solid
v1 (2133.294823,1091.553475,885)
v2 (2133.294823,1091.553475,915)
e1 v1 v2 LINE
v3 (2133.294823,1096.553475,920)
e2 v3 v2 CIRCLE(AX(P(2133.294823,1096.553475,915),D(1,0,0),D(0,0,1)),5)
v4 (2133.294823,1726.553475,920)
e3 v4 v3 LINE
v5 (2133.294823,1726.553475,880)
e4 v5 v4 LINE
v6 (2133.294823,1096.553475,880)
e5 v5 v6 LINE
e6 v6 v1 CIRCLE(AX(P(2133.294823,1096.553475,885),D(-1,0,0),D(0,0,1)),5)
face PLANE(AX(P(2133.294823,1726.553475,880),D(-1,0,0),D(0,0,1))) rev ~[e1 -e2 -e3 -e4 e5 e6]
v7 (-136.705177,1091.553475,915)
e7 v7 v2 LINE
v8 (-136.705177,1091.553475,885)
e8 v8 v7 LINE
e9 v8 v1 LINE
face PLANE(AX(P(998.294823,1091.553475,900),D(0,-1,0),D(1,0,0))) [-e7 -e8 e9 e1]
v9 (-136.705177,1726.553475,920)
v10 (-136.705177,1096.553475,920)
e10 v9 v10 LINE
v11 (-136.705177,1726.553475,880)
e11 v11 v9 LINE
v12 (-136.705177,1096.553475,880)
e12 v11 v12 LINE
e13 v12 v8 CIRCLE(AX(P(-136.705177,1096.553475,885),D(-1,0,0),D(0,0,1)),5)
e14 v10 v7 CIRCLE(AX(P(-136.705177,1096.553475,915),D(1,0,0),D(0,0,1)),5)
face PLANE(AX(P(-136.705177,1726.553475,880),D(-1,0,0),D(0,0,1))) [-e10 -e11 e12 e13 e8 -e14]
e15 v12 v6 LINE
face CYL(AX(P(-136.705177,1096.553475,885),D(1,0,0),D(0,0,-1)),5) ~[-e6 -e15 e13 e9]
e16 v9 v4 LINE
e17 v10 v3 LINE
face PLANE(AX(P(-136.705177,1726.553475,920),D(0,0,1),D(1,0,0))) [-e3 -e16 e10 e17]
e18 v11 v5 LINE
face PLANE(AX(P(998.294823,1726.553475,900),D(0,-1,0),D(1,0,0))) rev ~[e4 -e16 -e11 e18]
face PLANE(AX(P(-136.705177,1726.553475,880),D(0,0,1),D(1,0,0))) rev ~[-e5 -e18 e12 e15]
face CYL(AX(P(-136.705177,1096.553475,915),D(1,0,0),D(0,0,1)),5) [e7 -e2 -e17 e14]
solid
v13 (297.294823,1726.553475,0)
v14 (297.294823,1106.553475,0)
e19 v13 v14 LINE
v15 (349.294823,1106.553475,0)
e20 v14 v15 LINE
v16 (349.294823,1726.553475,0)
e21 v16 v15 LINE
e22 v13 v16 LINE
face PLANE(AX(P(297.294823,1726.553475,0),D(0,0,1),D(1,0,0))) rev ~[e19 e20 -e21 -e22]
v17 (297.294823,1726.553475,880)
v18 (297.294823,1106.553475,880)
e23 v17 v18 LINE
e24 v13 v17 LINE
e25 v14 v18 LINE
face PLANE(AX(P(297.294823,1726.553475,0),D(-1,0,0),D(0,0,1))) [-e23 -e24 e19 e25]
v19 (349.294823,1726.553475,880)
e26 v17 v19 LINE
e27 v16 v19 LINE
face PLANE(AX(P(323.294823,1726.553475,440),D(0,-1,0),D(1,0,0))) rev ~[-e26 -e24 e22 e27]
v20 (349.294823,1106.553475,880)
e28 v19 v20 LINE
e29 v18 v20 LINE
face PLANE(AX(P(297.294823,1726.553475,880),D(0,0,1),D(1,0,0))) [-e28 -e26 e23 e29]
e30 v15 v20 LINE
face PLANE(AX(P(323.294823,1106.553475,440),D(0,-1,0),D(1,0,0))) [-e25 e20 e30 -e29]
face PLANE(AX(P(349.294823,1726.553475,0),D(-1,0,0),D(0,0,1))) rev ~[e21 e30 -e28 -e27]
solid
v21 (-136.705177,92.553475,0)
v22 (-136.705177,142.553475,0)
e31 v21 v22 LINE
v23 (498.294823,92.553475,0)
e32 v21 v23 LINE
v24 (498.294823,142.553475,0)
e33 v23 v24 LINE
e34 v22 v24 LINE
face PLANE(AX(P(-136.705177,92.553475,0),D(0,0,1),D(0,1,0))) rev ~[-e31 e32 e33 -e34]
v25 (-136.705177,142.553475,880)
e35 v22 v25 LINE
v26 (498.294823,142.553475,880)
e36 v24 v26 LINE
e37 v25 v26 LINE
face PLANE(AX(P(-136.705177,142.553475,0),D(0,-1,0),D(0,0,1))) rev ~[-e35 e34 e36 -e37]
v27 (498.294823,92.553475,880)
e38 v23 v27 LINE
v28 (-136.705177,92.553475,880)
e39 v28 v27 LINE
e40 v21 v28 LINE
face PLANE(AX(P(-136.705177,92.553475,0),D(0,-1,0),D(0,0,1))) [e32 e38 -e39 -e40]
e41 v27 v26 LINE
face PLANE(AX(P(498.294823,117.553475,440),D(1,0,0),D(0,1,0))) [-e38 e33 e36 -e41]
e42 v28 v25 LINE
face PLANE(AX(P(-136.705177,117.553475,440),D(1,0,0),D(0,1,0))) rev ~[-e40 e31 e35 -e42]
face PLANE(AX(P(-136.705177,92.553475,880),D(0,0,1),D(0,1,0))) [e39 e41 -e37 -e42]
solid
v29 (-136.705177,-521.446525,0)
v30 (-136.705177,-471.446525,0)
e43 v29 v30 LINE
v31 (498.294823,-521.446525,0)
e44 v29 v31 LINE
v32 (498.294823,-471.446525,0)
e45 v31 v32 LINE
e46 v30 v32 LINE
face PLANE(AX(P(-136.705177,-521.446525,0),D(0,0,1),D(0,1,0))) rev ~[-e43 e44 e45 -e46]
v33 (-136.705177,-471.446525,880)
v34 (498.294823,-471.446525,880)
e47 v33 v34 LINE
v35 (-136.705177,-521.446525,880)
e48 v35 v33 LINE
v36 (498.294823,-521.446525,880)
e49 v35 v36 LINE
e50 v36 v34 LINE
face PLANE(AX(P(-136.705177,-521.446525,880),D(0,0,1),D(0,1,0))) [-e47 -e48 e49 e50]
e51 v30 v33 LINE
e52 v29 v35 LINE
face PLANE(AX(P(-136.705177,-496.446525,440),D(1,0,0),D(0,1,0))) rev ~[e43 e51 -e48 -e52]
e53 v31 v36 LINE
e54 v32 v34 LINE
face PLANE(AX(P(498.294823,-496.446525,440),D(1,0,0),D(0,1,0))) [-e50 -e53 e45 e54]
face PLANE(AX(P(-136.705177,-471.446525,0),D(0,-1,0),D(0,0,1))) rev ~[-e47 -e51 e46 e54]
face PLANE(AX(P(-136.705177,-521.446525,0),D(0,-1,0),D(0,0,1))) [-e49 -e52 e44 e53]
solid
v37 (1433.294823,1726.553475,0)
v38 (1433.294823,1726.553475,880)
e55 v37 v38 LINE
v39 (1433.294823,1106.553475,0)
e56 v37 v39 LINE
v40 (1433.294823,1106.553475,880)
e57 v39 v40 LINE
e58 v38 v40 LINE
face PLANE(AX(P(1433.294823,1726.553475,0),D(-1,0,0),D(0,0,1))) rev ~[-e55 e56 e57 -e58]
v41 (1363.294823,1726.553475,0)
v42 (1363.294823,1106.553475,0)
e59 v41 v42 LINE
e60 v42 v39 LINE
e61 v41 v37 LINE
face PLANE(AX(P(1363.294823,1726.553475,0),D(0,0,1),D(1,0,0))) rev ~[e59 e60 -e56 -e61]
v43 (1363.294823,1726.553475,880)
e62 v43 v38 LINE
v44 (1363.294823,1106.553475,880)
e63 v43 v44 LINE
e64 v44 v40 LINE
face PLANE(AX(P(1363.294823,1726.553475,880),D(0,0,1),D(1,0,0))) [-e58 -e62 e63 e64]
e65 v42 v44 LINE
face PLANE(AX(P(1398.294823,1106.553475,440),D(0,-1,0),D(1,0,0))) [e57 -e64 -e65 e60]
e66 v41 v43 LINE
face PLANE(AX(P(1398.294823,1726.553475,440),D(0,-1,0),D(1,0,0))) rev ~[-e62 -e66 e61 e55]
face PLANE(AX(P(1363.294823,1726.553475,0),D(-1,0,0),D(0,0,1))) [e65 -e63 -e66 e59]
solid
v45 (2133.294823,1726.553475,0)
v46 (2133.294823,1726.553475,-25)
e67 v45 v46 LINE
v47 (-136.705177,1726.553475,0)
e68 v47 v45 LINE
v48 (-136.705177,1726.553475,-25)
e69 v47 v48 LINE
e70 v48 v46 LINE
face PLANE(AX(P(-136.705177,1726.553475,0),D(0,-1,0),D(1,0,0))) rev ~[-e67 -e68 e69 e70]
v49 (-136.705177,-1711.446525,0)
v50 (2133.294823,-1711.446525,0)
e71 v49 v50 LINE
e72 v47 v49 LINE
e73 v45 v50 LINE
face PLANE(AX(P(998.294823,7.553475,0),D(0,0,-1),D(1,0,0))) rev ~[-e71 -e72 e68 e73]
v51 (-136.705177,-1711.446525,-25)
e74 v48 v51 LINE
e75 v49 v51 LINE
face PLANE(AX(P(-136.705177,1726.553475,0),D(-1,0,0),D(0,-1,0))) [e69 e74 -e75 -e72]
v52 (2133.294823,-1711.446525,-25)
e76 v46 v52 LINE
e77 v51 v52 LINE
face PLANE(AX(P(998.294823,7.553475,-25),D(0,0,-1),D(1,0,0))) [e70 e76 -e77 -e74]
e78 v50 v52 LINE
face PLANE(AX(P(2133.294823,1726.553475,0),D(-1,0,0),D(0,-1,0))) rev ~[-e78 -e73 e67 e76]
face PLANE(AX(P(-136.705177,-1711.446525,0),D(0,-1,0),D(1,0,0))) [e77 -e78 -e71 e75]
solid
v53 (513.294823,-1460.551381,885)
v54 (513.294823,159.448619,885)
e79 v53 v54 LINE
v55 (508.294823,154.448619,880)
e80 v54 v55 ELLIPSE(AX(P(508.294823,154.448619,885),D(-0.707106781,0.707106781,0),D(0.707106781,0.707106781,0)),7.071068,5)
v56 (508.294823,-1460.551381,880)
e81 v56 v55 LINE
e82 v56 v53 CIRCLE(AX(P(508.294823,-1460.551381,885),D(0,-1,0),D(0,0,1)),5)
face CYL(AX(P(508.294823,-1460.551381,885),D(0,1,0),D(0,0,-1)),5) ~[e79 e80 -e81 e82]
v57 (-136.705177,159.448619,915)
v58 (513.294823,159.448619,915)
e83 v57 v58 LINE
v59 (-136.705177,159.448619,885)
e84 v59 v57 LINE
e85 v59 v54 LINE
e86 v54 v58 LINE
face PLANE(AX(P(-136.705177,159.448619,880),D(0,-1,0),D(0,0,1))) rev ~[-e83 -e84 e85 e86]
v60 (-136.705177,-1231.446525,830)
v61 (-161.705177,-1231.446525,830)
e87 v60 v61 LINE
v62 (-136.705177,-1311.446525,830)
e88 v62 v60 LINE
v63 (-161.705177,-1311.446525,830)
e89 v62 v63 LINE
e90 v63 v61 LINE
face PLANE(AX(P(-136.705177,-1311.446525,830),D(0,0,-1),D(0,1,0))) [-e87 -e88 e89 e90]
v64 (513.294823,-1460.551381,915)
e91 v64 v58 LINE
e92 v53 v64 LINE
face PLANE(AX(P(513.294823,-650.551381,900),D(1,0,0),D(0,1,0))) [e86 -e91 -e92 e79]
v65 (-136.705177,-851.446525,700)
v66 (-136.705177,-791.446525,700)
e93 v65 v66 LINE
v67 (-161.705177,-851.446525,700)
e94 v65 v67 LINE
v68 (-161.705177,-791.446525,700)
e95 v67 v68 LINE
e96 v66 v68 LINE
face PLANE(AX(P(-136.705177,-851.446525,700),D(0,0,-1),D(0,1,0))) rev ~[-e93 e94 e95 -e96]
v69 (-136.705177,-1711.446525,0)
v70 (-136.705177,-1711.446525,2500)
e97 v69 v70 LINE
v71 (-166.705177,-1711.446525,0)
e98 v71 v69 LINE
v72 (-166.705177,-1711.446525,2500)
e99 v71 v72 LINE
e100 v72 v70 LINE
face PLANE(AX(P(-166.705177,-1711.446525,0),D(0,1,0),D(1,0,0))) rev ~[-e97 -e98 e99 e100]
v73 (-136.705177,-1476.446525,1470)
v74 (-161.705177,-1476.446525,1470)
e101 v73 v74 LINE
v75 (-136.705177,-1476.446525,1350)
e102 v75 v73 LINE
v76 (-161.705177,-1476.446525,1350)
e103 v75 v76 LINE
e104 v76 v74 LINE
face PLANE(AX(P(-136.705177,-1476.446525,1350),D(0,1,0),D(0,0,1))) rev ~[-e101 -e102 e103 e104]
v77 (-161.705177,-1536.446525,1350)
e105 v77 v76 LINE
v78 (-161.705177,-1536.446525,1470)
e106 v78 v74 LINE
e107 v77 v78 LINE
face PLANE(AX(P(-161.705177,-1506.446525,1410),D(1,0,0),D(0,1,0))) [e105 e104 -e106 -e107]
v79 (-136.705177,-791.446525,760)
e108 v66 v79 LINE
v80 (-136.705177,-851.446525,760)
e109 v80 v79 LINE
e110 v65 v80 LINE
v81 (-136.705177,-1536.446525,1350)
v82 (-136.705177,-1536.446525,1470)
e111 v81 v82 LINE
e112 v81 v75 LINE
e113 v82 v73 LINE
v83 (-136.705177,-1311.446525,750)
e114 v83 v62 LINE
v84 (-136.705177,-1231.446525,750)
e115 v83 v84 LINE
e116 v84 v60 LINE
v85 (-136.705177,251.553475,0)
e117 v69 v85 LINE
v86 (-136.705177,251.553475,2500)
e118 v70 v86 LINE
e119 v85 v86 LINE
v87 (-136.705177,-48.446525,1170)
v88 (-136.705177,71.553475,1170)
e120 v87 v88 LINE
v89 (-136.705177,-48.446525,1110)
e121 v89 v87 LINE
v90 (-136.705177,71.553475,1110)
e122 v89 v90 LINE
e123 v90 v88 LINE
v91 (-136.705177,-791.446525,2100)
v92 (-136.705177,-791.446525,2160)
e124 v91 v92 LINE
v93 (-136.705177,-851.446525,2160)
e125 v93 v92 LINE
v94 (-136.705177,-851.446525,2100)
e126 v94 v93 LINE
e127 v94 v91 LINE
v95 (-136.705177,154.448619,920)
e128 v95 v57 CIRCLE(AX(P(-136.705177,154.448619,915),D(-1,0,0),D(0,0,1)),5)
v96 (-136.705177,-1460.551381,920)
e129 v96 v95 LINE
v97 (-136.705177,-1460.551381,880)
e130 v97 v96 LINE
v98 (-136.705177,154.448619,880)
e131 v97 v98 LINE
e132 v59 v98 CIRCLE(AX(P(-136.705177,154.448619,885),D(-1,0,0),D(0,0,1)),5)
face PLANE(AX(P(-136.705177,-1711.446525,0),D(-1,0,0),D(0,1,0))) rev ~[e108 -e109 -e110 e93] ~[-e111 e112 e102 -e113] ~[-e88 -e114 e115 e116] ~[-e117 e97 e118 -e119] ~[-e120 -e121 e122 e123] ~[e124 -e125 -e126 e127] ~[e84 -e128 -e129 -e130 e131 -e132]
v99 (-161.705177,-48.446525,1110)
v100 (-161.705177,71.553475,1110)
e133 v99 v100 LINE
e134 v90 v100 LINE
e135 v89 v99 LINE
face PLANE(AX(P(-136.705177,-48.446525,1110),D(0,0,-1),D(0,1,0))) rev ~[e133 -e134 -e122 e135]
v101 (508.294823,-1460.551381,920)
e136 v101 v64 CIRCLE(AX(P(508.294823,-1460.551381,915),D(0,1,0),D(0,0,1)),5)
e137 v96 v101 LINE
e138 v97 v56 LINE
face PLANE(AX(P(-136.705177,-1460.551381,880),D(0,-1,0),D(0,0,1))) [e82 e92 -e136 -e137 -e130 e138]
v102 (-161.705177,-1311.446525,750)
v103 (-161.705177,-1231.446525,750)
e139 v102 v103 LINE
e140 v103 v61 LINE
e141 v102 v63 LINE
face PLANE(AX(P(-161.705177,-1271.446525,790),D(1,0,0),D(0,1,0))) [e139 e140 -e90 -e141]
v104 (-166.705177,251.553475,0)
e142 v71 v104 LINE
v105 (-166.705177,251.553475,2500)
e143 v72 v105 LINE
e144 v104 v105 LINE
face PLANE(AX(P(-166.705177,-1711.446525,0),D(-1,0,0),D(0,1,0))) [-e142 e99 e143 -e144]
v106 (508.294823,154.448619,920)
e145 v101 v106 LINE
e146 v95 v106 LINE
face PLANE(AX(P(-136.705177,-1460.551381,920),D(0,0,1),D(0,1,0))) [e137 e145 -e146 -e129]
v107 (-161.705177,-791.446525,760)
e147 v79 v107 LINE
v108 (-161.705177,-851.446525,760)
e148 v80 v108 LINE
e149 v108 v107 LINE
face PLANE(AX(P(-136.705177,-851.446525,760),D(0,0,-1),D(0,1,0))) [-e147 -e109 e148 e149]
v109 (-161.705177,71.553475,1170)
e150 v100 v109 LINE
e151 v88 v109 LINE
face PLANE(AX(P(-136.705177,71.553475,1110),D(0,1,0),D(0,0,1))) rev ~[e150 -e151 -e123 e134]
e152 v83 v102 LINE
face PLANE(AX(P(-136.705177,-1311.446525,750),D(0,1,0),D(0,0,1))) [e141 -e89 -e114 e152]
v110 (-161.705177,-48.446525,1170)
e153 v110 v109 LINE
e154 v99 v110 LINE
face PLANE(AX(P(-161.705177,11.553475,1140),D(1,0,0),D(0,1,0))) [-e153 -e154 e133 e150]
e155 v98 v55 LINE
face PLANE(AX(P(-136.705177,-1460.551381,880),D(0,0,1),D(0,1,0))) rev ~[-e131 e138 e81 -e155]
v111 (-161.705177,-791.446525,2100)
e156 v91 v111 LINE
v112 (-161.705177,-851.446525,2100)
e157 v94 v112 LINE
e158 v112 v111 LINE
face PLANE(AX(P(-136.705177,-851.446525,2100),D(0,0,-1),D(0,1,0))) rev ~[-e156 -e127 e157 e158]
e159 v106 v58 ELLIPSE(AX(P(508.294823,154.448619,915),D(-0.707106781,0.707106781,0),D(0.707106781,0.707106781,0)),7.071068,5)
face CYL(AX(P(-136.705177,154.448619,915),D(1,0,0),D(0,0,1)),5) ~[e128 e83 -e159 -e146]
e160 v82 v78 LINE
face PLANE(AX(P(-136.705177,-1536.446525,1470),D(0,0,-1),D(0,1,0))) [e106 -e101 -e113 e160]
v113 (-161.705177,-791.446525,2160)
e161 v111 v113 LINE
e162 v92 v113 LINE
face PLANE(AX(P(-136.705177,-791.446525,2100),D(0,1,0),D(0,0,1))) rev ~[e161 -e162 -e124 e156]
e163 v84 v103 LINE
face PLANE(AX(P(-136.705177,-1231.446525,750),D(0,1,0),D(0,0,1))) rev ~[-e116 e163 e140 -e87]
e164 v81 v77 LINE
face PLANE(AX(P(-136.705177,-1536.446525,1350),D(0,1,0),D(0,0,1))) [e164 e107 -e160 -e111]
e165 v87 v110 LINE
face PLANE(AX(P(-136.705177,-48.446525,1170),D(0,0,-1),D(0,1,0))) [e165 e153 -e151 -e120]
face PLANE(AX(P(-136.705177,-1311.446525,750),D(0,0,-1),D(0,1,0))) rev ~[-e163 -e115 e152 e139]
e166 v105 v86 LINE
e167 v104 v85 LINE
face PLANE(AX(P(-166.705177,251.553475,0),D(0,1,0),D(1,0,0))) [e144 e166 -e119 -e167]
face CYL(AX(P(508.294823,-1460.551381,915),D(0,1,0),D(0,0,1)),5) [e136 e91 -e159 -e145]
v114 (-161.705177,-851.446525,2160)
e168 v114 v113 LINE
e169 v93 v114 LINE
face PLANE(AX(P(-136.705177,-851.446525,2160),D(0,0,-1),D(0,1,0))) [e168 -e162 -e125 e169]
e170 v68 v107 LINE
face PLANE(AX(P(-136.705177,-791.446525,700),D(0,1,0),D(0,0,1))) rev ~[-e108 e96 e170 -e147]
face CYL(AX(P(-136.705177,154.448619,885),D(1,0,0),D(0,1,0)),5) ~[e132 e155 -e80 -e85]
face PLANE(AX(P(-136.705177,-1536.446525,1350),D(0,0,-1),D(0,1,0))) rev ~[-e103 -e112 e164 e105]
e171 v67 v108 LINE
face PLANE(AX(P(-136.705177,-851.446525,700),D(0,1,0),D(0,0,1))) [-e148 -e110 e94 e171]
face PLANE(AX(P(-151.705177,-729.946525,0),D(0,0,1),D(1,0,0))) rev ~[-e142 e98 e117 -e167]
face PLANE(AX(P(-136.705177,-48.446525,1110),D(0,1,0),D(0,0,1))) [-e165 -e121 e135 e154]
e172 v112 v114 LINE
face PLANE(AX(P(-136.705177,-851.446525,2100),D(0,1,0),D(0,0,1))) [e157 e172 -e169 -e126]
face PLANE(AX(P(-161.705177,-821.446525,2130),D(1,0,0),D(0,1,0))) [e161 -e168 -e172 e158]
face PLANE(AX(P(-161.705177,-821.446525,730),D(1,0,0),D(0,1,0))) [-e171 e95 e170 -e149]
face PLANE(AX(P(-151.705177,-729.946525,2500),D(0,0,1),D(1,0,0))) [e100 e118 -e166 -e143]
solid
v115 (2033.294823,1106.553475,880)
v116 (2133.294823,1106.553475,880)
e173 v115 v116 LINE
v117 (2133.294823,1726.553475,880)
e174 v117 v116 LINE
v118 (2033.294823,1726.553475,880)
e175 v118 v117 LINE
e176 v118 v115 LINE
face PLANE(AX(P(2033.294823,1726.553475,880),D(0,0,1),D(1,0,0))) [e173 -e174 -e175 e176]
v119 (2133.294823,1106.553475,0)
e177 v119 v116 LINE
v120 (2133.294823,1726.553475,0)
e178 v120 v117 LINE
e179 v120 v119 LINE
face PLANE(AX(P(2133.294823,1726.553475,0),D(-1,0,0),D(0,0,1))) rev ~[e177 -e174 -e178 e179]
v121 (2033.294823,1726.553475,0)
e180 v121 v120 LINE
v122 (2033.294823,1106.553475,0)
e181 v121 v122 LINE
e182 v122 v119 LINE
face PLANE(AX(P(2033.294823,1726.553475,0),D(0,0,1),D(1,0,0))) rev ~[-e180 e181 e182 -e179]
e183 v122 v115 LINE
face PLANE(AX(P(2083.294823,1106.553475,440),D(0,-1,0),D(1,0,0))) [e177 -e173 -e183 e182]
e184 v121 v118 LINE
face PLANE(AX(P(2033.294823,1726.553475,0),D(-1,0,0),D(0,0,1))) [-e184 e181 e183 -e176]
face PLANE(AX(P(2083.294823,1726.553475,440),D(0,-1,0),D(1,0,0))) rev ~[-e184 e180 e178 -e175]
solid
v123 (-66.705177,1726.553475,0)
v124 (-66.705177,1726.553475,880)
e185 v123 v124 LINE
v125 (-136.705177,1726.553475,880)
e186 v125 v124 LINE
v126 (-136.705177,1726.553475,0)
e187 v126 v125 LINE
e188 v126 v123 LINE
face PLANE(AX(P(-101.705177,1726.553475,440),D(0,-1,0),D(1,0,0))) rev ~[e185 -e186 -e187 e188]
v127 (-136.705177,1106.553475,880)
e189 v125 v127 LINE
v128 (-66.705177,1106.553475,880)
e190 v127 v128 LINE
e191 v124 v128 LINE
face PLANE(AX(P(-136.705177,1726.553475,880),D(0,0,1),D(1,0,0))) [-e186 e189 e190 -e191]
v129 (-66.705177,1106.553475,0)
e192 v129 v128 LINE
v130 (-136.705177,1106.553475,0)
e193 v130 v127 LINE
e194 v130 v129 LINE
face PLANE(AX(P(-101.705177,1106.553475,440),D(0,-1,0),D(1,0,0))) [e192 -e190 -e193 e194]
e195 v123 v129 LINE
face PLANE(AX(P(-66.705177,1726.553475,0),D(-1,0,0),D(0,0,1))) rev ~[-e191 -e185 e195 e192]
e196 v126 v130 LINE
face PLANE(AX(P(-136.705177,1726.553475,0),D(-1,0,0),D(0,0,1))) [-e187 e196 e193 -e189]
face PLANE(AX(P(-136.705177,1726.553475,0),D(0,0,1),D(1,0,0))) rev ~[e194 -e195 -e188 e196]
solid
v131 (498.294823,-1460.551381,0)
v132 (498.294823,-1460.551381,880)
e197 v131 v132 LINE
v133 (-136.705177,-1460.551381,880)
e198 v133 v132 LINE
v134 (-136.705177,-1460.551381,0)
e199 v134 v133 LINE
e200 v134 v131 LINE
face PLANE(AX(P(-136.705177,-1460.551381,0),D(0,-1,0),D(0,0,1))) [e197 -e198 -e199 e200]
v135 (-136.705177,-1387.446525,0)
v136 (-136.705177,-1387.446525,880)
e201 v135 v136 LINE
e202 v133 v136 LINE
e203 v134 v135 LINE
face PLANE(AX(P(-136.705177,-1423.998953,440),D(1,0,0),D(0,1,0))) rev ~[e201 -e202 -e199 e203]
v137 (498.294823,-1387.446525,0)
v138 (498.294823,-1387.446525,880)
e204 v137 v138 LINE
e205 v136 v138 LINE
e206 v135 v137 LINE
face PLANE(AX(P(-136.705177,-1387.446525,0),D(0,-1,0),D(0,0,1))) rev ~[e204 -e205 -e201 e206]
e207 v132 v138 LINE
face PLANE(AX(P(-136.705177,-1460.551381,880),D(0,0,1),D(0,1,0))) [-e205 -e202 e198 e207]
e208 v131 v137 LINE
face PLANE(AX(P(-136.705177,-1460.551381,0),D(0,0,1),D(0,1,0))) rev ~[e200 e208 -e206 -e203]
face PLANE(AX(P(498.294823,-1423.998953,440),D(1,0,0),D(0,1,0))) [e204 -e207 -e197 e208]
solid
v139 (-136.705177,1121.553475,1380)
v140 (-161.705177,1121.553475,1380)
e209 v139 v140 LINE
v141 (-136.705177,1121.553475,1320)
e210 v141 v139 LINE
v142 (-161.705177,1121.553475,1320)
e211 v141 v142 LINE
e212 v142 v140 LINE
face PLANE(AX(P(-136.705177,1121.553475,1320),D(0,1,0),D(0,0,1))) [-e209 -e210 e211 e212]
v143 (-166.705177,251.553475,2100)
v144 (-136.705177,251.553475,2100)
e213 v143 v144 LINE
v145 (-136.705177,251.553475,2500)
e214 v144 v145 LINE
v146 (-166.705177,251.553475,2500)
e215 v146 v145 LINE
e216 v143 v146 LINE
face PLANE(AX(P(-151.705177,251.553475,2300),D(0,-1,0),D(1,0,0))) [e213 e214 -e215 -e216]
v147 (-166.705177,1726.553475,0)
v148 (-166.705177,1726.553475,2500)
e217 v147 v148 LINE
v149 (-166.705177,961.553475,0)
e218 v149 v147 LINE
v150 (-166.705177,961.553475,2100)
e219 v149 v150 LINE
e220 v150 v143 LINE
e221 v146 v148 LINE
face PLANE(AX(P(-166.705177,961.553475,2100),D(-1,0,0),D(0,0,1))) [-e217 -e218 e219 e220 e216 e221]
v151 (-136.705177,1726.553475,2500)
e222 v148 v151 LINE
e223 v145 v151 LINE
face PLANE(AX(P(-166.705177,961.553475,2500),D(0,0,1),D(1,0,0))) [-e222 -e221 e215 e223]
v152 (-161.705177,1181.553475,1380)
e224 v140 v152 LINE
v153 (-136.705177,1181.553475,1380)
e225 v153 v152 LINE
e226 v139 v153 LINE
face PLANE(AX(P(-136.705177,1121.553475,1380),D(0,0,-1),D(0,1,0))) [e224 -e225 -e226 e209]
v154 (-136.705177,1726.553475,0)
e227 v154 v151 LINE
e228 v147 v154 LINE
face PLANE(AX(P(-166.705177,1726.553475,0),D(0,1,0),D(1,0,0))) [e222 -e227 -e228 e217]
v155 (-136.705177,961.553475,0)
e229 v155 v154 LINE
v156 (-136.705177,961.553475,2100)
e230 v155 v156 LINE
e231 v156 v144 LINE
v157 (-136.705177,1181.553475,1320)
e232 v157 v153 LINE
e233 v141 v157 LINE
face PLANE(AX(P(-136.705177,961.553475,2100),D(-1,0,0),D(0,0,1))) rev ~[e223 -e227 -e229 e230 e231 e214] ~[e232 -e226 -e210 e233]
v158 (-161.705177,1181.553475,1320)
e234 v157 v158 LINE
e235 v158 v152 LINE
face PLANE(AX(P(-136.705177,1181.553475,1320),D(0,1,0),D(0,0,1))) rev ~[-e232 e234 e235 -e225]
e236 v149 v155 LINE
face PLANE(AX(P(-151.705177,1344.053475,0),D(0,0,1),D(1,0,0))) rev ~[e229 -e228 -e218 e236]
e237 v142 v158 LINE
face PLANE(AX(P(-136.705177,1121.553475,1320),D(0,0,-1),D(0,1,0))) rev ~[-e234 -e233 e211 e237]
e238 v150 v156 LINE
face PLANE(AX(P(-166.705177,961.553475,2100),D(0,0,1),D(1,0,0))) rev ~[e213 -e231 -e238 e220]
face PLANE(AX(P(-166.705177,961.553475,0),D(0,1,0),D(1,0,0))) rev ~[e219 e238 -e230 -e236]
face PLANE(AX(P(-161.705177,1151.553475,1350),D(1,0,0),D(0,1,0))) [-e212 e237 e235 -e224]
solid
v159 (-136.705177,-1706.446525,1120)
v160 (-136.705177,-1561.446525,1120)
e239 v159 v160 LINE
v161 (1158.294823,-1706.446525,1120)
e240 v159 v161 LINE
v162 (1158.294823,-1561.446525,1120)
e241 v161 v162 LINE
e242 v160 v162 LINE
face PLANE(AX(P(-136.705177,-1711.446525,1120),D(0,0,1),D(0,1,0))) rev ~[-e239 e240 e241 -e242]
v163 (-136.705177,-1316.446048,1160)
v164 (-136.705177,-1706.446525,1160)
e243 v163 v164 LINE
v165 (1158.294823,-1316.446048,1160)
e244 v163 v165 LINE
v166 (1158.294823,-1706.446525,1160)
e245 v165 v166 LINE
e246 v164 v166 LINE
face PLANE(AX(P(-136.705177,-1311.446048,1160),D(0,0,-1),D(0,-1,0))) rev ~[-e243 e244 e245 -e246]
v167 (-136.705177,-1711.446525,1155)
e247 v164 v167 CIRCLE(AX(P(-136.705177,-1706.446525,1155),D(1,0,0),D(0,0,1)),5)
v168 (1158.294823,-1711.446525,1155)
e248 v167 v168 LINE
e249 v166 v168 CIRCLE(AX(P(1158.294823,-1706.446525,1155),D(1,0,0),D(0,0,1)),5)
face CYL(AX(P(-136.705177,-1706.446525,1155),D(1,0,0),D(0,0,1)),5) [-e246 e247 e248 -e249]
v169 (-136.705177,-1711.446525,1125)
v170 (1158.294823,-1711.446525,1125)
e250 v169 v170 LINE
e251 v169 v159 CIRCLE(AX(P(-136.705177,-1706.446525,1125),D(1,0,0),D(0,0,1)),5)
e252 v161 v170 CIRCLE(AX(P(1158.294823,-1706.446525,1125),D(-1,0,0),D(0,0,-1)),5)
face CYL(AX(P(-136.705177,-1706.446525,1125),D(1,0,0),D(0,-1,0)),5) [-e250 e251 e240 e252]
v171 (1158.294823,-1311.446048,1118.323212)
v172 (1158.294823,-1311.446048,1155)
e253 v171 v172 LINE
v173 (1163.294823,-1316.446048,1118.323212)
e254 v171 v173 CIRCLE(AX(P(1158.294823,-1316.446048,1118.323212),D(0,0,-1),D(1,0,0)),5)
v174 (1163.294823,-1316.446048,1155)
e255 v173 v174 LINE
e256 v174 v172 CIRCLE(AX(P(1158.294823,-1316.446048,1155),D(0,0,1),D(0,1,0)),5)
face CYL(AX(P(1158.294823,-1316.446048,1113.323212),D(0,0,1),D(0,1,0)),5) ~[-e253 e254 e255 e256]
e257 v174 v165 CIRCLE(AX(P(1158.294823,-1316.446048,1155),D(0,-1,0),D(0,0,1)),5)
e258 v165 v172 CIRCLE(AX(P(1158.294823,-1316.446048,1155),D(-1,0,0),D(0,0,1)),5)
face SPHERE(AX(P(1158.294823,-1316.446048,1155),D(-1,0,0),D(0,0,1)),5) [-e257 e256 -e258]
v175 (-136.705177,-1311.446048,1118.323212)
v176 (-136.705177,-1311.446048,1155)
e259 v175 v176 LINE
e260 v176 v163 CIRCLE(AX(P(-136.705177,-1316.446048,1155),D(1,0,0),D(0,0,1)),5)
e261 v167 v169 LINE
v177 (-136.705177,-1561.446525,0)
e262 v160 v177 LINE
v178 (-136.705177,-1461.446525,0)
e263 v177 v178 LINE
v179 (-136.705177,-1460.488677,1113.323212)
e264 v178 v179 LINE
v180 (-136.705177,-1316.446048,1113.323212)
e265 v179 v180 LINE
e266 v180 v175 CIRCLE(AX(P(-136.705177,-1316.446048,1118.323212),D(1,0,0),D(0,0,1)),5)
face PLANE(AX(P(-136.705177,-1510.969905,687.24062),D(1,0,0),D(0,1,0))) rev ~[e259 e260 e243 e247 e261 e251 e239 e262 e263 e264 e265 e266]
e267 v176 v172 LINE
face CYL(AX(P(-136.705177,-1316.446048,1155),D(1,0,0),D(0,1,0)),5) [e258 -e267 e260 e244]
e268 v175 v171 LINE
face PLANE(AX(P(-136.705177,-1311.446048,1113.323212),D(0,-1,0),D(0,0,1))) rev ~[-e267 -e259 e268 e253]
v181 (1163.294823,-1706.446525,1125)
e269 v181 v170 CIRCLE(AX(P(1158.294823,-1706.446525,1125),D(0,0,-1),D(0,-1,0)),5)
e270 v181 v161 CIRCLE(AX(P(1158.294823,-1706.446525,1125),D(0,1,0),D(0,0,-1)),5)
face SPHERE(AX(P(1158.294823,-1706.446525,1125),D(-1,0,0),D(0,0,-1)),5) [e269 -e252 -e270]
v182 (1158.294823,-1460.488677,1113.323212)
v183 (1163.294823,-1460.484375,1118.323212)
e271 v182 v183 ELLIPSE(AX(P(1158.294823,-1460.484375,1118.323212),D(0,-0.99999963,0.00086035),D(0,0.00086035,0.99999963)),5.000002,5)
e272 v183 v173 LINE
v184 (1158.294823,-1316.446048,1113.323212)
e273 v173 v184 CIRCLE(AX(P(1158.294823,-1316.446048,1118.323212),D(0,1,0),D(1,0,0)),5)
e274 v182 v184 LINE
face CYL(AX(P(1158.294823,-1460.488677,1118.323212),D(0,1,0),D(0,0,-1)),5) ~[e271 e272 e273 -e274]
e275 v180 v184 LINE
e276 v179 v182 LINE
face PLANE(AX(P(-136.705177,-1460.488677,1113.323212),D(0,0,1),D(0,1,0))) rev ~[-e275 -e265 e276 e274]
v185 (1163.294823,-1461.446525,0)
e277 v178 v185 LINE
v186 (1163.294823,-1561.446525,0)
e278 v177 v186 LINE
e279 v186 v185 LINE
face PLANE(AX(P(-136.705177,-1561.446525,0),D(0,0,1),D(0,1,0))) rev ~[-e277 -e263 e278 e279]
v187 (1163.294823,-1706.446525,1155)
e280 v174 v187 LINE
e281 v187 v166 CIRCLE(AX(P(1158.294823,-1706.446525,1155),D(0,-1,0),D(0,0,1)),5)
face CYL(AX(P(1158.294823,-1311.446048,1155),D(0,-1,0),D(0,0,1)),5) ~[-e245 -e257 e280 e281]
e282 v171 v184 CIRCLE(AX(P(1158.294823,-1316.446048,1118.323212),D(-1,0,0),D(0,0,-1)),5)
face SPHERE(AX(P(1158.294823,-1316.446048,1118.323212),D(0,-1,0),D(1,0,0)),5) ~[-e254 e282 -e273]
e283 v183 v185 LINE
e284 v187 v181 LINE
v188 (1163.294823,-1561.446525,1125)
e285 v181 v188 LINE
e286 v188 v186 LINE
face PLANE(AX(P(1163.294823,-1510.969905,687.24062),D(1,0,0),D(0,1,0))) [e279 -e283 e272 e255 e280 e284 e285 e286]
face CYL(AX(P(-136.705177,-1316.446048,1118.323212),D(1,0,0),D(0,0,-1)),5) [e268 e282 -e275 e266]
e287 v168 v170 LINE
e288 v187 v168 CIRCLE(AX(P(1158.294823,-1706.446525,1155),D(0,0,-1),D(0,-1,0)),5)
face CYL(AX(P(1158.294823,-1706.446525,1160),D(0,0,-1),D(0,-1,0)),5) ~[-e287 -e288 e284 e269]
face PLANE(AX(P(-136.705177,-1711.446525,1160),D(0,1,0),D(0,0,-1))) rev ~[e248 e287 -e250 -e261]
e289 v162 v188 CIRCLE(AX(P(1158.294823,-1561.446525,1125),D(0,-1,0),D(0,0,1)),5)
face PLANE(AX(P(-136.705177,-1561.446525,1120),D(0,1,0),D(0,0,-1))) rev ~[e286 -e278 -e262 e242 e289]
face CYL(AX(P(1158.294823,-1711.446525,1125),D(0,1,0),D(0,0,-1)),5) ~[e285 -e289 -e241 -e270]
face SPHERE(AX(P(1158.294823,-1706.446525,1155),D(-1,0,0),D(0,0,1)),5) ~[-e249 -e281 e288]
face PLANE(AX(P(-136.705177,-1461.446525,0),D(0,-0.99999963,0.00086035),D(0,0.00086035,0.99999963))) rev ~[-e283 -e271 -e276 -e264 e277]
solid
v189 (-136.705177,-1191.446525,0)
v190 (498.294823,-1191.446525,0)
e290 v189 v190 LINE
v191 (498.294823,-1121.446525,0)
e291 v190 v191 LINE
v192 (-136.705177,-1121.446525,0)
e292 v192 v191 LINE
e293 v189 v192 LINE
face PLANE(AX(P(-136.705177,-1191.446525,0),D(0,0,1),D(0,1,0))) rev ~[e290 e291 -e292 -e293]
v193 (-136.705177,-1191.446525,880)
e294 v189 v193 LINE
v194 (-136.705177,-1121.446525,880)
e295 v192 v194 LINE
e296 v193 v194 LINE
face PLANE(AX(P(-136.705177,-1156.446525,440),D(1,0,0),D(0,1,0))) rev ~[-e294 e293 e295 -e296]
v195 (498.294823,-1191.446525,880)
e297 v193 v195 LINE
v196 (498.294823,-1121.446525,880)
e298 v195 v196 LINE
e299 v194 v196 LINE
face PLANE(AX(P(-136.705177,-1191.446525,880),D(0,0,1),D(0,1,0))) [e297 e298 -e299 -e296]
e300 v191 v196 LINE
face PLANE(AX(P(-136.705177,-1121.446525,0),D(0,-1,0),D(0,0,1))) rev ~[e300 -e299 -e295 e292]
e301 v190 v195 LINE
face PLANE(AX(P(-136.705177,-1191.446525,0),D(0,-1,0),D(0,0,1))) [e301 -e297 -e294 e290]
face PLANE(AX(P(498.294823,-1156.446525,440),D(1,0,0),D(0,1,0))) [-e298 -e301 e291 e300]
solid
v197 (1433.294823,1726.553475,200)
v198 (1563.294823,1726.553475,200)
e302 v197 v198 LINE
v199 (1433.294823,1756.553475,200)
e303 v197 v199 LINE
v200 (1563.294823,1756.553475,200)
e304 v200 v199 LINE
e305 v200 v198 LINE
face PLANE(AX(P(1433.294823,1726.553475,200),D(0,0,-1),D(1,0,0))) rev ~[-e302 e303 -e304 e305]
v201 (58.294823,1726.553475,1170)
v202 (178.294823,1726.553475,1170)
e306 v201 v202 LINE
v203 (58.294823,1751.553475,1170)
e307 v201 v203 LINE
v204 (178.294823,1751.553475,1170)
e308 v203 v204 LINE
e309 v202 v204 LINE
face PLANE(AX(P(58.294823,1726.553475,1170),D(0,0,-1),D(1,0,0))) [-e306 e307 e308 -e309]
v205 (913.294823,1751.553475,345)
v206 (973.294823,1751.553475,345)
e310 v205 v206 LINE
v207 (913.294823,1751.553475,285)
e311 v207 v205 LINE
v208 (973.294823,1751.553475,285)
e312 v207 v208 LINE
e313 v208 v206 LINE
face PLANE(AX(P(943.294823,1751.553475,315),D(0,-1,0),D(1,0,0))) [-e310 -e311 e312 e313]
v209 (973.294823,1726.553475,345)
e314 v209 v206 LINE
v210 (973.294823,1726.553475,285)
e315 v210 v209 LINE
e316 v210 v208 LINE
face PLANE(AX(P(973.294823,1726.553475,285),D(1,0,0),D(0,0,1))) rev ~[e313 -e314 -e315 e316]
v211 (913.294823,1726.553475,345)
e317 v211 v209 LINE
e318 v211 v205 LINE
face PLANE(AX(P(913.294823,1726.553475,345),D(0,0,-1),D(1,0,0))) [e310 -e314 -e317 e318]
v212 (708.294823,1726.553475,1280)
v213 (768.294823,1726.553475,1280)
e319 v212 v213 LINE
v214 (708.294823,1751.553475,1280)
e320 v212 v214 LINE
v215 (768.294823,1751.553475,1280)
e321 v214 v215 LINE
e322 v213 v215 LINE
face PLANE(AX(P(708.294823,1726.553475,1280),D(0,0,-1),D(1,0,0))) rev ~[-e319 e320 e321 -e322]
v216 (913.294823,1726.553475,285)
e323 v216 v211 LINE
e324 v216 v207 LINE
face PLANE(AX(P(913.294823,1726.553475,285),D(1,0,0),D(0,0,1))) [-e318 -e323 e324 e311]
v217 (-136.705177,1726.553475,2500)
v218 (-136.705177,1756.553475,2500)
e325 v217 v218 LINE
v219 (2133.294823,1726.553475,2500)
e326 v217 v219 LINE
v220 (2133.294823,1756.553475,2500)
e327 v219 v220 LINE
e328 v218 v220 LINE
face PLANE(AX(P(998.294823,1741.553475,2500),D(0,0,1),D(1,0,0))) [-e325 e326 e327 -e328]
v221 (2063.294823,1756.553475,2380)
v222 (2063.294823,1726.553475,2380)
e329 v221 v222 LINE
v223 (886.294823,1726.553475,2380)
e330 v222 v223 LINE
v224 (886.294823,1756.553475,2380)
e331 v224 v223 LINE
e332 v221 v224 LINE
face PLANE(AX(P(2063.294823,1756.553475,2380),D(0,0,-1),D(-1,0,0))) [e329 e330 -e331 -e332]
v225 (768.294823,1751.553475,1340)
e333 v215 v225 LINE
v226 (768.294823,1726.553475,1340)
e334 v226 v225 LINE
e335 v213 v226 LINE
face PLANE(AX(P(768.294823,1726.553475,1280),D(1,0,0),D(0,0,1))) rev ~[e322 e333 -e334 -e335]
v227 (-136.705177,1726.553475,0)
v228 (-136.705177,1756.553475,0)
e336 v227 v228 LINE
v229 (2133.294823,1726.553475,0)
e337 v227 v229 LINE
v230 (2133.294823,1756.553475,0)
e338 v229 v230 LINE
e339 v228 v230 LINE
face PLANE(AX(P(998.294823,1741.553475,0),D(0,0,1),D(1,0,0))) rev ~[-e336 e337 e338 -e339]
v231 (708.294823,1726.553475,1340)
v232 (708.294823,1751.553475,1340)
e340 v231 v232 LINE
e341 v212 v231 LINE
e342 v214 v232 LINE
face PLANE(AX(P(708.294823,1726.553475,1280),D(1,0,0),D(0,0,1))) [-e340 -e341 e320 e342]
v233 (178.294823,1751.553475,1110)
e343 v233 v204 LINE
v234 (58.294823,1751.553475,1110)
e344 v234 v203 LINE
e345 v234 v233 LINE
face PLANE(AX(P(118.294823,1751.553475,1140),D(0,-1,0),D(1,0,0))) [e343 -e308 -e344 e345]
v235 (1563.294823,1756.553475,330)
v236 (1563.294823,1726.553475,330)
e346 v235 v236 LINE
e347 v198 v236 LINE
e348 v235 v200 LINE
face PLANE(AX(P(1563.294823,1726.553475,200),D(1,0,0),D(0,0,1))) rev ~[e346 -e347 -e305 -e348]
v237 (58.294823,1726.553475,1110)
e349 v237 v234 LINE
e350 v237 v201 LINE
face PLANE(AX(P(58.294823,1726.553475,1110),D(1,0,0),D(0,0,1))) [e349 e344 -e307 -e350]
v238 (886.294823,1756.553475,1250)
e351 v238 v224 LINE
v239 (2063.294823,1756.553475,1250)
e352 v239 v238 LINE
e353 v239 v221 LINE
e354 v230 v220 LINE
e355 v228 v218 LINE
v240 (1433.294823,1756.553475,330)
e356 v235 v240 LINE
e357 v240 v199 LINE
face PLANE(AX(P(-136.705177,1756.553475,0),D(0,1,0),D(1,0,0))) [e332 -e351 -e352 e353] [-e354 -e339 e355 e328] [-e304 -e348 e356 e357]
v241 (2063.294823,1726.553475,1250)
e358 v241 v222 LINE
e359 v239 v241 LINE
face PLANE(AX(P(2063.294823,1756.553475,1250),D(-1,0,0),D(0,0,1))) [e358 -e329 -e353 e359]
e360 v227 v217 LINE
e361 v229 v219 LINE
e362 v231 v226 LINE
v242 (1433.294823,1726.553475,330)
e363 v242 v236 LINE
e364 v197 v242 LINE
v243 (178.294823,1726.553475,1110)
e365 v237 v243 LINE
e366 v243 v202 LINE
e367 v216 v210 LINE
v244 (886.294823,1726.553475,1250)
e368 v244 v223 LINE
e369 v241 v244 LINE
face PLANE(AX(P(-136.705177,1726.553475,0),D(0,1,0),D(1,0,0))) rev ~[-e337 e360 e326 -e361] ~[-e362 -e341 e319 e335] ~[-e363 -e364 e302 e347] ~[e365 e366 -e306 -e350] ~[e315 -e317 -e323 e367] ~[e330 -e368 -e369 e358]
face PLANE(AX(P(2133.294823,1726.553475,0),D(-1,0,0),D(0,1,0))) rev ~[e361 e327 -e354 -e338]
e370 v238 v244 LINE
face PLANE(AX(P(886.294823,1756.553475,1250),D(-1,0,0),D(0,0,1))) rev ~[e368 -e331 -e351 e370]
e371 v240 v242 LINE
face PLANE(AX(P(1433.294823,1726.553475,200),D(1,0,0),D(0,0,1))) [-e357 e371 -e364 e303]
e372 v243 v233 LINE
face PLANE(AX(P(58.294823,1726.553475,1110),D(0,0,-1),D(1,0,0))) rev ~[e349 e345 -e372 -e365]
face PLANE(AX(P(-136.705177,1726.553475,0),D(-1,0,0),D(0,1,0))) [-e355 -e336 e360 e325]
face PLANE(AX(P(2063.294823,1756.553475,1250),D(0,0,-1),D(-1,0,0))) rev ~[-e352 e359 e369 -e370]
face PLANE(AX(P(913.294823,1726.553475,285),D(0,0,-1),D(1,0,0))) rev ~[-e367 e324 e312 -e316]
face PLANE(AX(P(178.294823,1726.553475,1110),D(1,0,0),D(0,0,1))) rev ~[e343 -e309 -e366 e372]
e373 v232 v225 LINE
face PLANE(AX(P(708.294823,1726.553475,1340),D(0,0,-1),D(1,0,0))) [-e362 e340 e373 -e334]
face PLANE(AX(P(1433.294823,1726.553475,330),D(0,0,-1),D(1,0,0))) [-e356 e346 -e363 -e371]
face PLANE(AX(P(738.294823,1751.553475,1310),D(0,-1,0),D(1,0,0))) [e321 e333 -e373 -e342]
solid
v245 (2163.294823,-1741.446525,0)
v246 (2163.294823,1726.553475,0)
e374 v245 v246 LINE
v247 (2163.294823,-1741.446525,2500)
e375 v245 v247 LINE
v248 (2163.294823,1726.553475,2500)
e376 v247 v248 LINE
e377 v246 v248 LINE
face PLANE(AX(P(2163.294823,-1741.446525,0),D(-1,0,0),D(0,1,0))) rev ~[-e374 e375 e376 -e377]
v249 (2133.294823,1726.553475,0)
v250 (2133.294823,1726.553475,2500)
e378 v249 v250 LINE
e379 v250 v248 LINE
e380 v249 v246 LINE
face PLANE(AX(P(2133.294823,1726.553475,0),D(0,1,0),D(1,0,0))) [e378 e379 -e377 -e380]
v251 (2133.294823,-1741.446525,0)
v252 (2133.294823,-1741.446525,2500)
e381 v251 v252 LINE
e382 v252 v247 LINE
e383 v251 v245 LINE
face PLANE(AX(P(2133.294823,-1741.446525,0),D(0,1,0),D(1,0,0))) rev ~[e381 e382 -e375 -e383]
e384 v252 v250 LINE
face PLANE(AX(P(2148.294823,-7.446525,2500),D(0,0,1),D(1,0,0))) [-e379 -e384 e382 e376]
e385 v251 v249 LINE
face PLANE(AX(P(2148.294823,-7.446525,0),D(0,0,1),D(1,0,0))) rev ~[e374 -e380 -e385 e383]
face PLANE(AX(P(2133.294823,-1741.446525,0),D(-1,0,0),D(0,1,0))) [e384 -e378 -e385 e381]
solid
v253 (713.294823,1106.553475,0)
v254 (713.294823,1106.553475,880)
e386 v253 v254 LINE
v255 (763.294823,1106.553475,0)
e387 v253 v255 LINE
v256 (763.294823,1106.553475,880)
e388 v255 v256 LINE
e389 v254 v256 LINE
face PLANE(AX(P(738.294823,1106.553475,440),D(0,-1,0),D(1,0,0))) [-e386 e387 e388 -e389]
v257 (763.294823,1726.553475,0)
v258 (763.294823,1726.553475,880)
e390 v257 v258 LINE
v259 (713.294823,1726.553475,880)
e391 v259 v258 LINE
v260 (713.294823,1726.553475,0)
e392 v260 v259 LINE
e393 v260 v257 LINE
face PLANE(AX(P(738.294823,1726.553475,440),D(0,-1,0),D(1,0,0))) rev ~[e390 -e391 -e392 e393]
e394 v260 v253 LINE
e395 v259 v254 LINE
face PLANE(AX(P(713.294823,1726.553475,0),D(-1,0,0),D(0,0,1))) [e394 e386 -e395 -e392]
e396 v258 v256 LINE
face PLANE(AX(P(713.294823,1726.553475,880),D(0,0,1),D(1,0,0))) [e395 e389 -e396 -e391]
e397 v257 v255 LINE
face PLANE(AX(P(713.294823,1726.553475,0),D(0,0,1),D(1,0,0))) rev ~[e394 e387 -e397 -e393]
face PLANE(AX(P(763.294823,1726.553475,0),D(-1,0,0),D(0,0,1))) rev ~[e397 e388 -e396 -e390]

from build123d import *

# Parameters (mm, degrees)
F0_W      = 2270
F0_H      = 30
F1_DEPTH  = 2500
F0_W_2    = 30
F0_H_2    = 3468
F0_H_3    = 765
F0_H_4    = 1963
F2_W      = 2270
F2_H      = 3438
F3_DEPTH  = 25
F4_W      = 2270
F4_H      = 40
F5_DEPTH  = 635
F7_DEPTH  = 1300
F6_W      = 1620
F6_H      = 40
F8_DEPTH  = 650
F9_W      = 1177
F9_H      = 1130
F10_DEPTH = 3498.001
F11_W     = 30
F11_H     = 400
F12_DEPTH = 710
F13_W     = 70
F13_H     = 880
F14_DEPTH = 635
F13_W_2   = 73.1048560888
F13_W_3   = 50
F15_R     = 5
F16_R     = 5
F17_R     = 5
F18_W     = 100
F18_H     = 880
F19_DEPTH = 620
F18_W_2   = 70
F18_W_3   = 50
F18_W_4   = 52
F20_W     = 60
F20_H     = 120
F20_H_2   = 60
F20_W_2   = 80
F20_H_3   = 80
F20_W_3   = 120
F21_DEPTH = 25
F22_W     = 60
F22_H     = 60
F22_W_2   = 120
F22_W_3   = 130
F22_H_2   = 130
F23_DEPTH = 25
F24_DEPTH = 100


with BuildPart() as f1:
    # F0 (on Top) → F1 (new body)
    with BuildSketch(Plane.XY):
        with Locations((998.2948233199, 1741.5534749776)):
            Rectangle(F0_W, F0_H)
    extrude(amount=F1_DEPTH)

    # F9 (on face) → F10 (cut, through all)
    with BuildSketch(Plane(origin=(0, 1756.5534749776, 0), x_dir=(-1, 0, 0), z_dir=(0, 1, 0))):
        with Locations((-1474.7948233199, 1815)):
            Rectangle(F9_W, F9_H)
    extrude(amount=-F10_DEPTH, mode=Mode.SUBTRACT)

    # F22 (on face) → F23 (cut)
    with BuildSketch(Plane.XZ.offset(-1726.5534749776)):
        with Locations((738.2948233199, 1310)):
            Rectangle(F22_W, F22_H)
        with Locations((118.2948233199, 1140)):
            Rectangle(F22_W_2, F22_H)
        with Locations((943.2948233199, 315)):
            Rectangle(F22_W, F22_H)
        with Locations((1498.2948233199, 265)):
            Rectangle(F22_W_3, F22_H_2)
    extrude(amount=-F23_DEPTH, mode=Mode.SUBTRACT)

    # F22 (on face) → F24 (cut)
    with BuildSketch(Plane.XZ.offset(-1726.5534749776)):
        with Locations((1498.2948233199, 265)):
            Rectangle(F22_W_3, F22_H_2)
    extrude(amount=-F24_DEPTH, mode=Mode.SUBTRACT)


with BuildPart() as f1b:
    # F0 (on Top) → F1, piece 2 (new body)
    with BuildSketch(Plane.XY):
        with Locations((2148.2948233199, -7.4465250224)):
            Rectangle(F0_W_2, F0_H_2)
    extrude(amount=F1_DEPTH)


with BuildPart() as f1c:
    # F0 (on Top) → F1, piece 3 (new body)
    with BuildSketch(Plane.XY):
        with Locations((-151.7051766801, 1344.0534749776)):
            Rectangle(F0_W_2, F0_H_3)
    extrude(amount=F1_DEPTH)

    # F11 (on face) → F12 (join)
    with BuildSketch(Plane.XZ.offset(-961.5534749776)):
        with Locations((-151.7051766801, 2300)):
            Rectangle(F11_W, F11_H)
    extrude(amount=F12_DEPTH)


with BuildPart() as f1d:
    # F0 (on Top) → F1, piece 4 (new body)
    with BuildSketch(Plane.XY):
        with Locations((-151.7051766801, -729.9465250224)):
            Rectangle(F0_W_2, F0_H_4)
    extrude(amount=F1_DEPTH)

    # F6 (on face) → F8 (join)
    with BuildSketch(Plane.YZ.offset(-136.7051766801)):
        with Locations((-650.5513811111, 900)):
            Rectangle(F6_W, F6_H)
    extrude(amount=F8_DEPTH)

    # F15
    f15_edges = [f1d.edges().sort_by_distance(p)[0] for p in [
        (188.294823, 159.448619, 920),
        (513.294823, -650.551381, 920),
        (188.294823, 159.448619, 880),
        (513.294823, -650.551381, 880),
    ]]
    fillet(f15_edges, radius=F15_R)


with BuildPart() as f3:
    # F2 (on face) → F3 (new body)
    with BuildSketch(Plane(origin=(0, 0, 0), x_dir=(1, 0, 0), z_dir=(0, 0, -1))):
        with Locations((998.2948233199, -7.5534749776)):
            Rectangle(F2_W, F2_H)
    extrude(amount=F3_DEPTH)


with BuildPart() as f5:
    # F4 (on face) → F5 (new body)
    with BuildSketch(Plane.XZ.offset(-1726.5534749776)):
        with Locations((998.2948233199, 900)):
            Rectangle(F4_W, F4_H)
    extrude(amount=F5_DEPTH)

    # F17
    f17_edges = [f5.edges().sort_by_distance(p)[0] for p in [
        (998.294823, 1091.553475, 920),
        (998.294823, 1091.553475, 880),
    ]]
    fillet(f17_edges, radius=F17_R)


with BuildPart() as f7:
    # F6 (on face) → F7 (new body)
    with BuildSketch(Plane.YZ.offset(-136.7051766801)):
        Polygon((-1461.4465250224, 0), (-1460.689416728, 880), (-1460.4886770248, 1113.3232116699), (-1311.446047813, 1113.3232116699), (-1311.446047813, 1160), (-1511.4465250224, 1160), (-1711.4465250224, 1160), (-1711.4465250224, 1120), (-1561.4465250224, 1120), (-1561.4465250224, 0), align=None)
    extrude(amount=F7_DEPTH)

    # F16
    f16_edges = [f7.edges().sort_by_distance(p)[0] for p in [
        (513.294823, -1711.446525, 1160),
        (513.294823, -1311.446048, 1160),
        (1163.294823, -1511.446286, 1160),
        (513.294823, -1711.446525, 1120),
        (1163.294823, -1636.446525, 1120),
        (1163.294823, -1385.967362, 1113.323212),
        (1163.294823, -1711.446525, 1140),
        (1163.294823, -1311.446048, 1136.661606),
        (513.294823, -1311.446048, 1113.323212),
    ]]
    fillet(f16_edges, radius=F16_R)


with BuildPart() as f14:
    # F13 (on face) → F14 (new body)
    with BuildSketch(Plane.YZ.offset(-136.7051766801)):
        with Locations((-1156.4465250224, 440)):
            Rectangle(F13_W, F13_H)
    extrude(amount=F14_DEPTH)


with BuildPart() as f14b:
    # F13 (on face) → F14, piece 2 (new body)
    with BuildSketch(Plane.YZ.offset(-136.7051766801)):
        with Locations((-1423.9989530668, 440)):
            Rectangle(F13_W_2, F13_H)
    extrude(amount=F14_DEPTH)


with BuildPart() as f14c:
    # F13 (on face) → F14, piece 3 (new body)
    with BuildSketch(Plane.YZ.offset(-136.7051766801)):
        with Locations((-496.4465250224, 440)):
            Rectangle(F13_W_3, F13_H)
    extrude(amount=F14_DEPTH)


with BuildPart() as f14d:
    # F13 (on face) → F14, piece 4 (new body)
    with BuildSketch(Plane.YZ.offset(-136.7051766801)):
        with Locations((117.5534749776, 440)):
            Rectangle(F13_W_3, F13_H)
    extrude(amount=F14_DEPTH)


with BuildPart() as f19:
    # F18 (on face) → F19 (new body)
    with BuildSketch(Plane.XZ.offset(-1726.5534749776)):
        with Locations((2083.2948233199, 440)):
            Rectangle(F18_W, F18_H)
    extrude(amount=F19_DEPTH)


with BuildPart() as f19b:
    # F18 (on face) → F19, piece 2 (new body)
    with BuildSketch(Plane.XZ.offset(-1726.5534749776)):
        with Locations((1398.2948233199, 440)):
            Rectangle(F18_W_2, F18_H)
    extrude(amount=F19_DEPTH)


with BuildPart() as f19c:
    # F18 (on face) → F19, piece 3 (new body)
    with BuildSketch(Plane.XZ.offset(-1726.5534749776)):
        with Locations((738.2948233199, 440)):
            Rectangle(F18_W_3, F18_H)
    extrude(amount=F19_DEPTH)


with BuildPart() as f19d:
    # F18 (on face) → F19, piece 4 (new body)
    with BuildSketch(Plane.XZ.offset(-1726.5534749776)):
        with Locations((-101.7051766801, 440)):
            Rectangle(F18_W_2, F18_H)
    extrude(amount=F19_DEPTH)


with BuildPart() as f19e:
    # F18 (on face) → F19, piece 5 (new body)
    with BuildSketch(Plane.XZ.offset(-1726.5534749776)):
        with Locations((323.2948233199, 440)):
            Rectangle(F18_W_4, F18_H)
    extrude(amount=F19_DEPTH)


with BuildPart() as f21_tool:
    # F20 (on face) → F21 (new body)
    with BuildSketch(Plane.YZ.offset(-136.7051766801)):
        with Locations((-1506.4465250224, 1410)):
            Rectangle(F20_W, F20_H)
        with Locations((-821.4465250224, 2130)):
            Rectangle(F20_W, F20_H_2)
        with Locations((-1271.4465250224, 790)):
            Rectangle(F20_W_2, F20_H_3)
        with Locations((-821.4465250224, 730)):
            Rectangle(F20_W, F20_H_2)
        with Locations((1151.5534749776, 1350)):
            Rectangle(F20_W, F20_H_2)
        with Locations((11.5534749776, 1140)):
            Rectangle(F20_W_3, F20_H_2)
    extrude(amount=-F21_DEPTH)


with BuildPart() as f1c_1:
    add(f1c.part)

    # F21: cut by f21_tool
    add(f21_tool.part, mode=Mode.SUBTRACT)


with BuildPart() as f1d_1:
    add(f1d.part)

    # F21: cut by f21_tool
    add(f21_tool.part, mode=Mode.SUBTRACT)


solid = Compound([f1.part, f1b.part, f3.part, f5.part, f7.part, f14.part, f14b.part, f14c.part, f14d.part, f19.part, f19b.part, f19c.part, f19d.part, f19e.part, f1c_1.part, f1d_1.part])
